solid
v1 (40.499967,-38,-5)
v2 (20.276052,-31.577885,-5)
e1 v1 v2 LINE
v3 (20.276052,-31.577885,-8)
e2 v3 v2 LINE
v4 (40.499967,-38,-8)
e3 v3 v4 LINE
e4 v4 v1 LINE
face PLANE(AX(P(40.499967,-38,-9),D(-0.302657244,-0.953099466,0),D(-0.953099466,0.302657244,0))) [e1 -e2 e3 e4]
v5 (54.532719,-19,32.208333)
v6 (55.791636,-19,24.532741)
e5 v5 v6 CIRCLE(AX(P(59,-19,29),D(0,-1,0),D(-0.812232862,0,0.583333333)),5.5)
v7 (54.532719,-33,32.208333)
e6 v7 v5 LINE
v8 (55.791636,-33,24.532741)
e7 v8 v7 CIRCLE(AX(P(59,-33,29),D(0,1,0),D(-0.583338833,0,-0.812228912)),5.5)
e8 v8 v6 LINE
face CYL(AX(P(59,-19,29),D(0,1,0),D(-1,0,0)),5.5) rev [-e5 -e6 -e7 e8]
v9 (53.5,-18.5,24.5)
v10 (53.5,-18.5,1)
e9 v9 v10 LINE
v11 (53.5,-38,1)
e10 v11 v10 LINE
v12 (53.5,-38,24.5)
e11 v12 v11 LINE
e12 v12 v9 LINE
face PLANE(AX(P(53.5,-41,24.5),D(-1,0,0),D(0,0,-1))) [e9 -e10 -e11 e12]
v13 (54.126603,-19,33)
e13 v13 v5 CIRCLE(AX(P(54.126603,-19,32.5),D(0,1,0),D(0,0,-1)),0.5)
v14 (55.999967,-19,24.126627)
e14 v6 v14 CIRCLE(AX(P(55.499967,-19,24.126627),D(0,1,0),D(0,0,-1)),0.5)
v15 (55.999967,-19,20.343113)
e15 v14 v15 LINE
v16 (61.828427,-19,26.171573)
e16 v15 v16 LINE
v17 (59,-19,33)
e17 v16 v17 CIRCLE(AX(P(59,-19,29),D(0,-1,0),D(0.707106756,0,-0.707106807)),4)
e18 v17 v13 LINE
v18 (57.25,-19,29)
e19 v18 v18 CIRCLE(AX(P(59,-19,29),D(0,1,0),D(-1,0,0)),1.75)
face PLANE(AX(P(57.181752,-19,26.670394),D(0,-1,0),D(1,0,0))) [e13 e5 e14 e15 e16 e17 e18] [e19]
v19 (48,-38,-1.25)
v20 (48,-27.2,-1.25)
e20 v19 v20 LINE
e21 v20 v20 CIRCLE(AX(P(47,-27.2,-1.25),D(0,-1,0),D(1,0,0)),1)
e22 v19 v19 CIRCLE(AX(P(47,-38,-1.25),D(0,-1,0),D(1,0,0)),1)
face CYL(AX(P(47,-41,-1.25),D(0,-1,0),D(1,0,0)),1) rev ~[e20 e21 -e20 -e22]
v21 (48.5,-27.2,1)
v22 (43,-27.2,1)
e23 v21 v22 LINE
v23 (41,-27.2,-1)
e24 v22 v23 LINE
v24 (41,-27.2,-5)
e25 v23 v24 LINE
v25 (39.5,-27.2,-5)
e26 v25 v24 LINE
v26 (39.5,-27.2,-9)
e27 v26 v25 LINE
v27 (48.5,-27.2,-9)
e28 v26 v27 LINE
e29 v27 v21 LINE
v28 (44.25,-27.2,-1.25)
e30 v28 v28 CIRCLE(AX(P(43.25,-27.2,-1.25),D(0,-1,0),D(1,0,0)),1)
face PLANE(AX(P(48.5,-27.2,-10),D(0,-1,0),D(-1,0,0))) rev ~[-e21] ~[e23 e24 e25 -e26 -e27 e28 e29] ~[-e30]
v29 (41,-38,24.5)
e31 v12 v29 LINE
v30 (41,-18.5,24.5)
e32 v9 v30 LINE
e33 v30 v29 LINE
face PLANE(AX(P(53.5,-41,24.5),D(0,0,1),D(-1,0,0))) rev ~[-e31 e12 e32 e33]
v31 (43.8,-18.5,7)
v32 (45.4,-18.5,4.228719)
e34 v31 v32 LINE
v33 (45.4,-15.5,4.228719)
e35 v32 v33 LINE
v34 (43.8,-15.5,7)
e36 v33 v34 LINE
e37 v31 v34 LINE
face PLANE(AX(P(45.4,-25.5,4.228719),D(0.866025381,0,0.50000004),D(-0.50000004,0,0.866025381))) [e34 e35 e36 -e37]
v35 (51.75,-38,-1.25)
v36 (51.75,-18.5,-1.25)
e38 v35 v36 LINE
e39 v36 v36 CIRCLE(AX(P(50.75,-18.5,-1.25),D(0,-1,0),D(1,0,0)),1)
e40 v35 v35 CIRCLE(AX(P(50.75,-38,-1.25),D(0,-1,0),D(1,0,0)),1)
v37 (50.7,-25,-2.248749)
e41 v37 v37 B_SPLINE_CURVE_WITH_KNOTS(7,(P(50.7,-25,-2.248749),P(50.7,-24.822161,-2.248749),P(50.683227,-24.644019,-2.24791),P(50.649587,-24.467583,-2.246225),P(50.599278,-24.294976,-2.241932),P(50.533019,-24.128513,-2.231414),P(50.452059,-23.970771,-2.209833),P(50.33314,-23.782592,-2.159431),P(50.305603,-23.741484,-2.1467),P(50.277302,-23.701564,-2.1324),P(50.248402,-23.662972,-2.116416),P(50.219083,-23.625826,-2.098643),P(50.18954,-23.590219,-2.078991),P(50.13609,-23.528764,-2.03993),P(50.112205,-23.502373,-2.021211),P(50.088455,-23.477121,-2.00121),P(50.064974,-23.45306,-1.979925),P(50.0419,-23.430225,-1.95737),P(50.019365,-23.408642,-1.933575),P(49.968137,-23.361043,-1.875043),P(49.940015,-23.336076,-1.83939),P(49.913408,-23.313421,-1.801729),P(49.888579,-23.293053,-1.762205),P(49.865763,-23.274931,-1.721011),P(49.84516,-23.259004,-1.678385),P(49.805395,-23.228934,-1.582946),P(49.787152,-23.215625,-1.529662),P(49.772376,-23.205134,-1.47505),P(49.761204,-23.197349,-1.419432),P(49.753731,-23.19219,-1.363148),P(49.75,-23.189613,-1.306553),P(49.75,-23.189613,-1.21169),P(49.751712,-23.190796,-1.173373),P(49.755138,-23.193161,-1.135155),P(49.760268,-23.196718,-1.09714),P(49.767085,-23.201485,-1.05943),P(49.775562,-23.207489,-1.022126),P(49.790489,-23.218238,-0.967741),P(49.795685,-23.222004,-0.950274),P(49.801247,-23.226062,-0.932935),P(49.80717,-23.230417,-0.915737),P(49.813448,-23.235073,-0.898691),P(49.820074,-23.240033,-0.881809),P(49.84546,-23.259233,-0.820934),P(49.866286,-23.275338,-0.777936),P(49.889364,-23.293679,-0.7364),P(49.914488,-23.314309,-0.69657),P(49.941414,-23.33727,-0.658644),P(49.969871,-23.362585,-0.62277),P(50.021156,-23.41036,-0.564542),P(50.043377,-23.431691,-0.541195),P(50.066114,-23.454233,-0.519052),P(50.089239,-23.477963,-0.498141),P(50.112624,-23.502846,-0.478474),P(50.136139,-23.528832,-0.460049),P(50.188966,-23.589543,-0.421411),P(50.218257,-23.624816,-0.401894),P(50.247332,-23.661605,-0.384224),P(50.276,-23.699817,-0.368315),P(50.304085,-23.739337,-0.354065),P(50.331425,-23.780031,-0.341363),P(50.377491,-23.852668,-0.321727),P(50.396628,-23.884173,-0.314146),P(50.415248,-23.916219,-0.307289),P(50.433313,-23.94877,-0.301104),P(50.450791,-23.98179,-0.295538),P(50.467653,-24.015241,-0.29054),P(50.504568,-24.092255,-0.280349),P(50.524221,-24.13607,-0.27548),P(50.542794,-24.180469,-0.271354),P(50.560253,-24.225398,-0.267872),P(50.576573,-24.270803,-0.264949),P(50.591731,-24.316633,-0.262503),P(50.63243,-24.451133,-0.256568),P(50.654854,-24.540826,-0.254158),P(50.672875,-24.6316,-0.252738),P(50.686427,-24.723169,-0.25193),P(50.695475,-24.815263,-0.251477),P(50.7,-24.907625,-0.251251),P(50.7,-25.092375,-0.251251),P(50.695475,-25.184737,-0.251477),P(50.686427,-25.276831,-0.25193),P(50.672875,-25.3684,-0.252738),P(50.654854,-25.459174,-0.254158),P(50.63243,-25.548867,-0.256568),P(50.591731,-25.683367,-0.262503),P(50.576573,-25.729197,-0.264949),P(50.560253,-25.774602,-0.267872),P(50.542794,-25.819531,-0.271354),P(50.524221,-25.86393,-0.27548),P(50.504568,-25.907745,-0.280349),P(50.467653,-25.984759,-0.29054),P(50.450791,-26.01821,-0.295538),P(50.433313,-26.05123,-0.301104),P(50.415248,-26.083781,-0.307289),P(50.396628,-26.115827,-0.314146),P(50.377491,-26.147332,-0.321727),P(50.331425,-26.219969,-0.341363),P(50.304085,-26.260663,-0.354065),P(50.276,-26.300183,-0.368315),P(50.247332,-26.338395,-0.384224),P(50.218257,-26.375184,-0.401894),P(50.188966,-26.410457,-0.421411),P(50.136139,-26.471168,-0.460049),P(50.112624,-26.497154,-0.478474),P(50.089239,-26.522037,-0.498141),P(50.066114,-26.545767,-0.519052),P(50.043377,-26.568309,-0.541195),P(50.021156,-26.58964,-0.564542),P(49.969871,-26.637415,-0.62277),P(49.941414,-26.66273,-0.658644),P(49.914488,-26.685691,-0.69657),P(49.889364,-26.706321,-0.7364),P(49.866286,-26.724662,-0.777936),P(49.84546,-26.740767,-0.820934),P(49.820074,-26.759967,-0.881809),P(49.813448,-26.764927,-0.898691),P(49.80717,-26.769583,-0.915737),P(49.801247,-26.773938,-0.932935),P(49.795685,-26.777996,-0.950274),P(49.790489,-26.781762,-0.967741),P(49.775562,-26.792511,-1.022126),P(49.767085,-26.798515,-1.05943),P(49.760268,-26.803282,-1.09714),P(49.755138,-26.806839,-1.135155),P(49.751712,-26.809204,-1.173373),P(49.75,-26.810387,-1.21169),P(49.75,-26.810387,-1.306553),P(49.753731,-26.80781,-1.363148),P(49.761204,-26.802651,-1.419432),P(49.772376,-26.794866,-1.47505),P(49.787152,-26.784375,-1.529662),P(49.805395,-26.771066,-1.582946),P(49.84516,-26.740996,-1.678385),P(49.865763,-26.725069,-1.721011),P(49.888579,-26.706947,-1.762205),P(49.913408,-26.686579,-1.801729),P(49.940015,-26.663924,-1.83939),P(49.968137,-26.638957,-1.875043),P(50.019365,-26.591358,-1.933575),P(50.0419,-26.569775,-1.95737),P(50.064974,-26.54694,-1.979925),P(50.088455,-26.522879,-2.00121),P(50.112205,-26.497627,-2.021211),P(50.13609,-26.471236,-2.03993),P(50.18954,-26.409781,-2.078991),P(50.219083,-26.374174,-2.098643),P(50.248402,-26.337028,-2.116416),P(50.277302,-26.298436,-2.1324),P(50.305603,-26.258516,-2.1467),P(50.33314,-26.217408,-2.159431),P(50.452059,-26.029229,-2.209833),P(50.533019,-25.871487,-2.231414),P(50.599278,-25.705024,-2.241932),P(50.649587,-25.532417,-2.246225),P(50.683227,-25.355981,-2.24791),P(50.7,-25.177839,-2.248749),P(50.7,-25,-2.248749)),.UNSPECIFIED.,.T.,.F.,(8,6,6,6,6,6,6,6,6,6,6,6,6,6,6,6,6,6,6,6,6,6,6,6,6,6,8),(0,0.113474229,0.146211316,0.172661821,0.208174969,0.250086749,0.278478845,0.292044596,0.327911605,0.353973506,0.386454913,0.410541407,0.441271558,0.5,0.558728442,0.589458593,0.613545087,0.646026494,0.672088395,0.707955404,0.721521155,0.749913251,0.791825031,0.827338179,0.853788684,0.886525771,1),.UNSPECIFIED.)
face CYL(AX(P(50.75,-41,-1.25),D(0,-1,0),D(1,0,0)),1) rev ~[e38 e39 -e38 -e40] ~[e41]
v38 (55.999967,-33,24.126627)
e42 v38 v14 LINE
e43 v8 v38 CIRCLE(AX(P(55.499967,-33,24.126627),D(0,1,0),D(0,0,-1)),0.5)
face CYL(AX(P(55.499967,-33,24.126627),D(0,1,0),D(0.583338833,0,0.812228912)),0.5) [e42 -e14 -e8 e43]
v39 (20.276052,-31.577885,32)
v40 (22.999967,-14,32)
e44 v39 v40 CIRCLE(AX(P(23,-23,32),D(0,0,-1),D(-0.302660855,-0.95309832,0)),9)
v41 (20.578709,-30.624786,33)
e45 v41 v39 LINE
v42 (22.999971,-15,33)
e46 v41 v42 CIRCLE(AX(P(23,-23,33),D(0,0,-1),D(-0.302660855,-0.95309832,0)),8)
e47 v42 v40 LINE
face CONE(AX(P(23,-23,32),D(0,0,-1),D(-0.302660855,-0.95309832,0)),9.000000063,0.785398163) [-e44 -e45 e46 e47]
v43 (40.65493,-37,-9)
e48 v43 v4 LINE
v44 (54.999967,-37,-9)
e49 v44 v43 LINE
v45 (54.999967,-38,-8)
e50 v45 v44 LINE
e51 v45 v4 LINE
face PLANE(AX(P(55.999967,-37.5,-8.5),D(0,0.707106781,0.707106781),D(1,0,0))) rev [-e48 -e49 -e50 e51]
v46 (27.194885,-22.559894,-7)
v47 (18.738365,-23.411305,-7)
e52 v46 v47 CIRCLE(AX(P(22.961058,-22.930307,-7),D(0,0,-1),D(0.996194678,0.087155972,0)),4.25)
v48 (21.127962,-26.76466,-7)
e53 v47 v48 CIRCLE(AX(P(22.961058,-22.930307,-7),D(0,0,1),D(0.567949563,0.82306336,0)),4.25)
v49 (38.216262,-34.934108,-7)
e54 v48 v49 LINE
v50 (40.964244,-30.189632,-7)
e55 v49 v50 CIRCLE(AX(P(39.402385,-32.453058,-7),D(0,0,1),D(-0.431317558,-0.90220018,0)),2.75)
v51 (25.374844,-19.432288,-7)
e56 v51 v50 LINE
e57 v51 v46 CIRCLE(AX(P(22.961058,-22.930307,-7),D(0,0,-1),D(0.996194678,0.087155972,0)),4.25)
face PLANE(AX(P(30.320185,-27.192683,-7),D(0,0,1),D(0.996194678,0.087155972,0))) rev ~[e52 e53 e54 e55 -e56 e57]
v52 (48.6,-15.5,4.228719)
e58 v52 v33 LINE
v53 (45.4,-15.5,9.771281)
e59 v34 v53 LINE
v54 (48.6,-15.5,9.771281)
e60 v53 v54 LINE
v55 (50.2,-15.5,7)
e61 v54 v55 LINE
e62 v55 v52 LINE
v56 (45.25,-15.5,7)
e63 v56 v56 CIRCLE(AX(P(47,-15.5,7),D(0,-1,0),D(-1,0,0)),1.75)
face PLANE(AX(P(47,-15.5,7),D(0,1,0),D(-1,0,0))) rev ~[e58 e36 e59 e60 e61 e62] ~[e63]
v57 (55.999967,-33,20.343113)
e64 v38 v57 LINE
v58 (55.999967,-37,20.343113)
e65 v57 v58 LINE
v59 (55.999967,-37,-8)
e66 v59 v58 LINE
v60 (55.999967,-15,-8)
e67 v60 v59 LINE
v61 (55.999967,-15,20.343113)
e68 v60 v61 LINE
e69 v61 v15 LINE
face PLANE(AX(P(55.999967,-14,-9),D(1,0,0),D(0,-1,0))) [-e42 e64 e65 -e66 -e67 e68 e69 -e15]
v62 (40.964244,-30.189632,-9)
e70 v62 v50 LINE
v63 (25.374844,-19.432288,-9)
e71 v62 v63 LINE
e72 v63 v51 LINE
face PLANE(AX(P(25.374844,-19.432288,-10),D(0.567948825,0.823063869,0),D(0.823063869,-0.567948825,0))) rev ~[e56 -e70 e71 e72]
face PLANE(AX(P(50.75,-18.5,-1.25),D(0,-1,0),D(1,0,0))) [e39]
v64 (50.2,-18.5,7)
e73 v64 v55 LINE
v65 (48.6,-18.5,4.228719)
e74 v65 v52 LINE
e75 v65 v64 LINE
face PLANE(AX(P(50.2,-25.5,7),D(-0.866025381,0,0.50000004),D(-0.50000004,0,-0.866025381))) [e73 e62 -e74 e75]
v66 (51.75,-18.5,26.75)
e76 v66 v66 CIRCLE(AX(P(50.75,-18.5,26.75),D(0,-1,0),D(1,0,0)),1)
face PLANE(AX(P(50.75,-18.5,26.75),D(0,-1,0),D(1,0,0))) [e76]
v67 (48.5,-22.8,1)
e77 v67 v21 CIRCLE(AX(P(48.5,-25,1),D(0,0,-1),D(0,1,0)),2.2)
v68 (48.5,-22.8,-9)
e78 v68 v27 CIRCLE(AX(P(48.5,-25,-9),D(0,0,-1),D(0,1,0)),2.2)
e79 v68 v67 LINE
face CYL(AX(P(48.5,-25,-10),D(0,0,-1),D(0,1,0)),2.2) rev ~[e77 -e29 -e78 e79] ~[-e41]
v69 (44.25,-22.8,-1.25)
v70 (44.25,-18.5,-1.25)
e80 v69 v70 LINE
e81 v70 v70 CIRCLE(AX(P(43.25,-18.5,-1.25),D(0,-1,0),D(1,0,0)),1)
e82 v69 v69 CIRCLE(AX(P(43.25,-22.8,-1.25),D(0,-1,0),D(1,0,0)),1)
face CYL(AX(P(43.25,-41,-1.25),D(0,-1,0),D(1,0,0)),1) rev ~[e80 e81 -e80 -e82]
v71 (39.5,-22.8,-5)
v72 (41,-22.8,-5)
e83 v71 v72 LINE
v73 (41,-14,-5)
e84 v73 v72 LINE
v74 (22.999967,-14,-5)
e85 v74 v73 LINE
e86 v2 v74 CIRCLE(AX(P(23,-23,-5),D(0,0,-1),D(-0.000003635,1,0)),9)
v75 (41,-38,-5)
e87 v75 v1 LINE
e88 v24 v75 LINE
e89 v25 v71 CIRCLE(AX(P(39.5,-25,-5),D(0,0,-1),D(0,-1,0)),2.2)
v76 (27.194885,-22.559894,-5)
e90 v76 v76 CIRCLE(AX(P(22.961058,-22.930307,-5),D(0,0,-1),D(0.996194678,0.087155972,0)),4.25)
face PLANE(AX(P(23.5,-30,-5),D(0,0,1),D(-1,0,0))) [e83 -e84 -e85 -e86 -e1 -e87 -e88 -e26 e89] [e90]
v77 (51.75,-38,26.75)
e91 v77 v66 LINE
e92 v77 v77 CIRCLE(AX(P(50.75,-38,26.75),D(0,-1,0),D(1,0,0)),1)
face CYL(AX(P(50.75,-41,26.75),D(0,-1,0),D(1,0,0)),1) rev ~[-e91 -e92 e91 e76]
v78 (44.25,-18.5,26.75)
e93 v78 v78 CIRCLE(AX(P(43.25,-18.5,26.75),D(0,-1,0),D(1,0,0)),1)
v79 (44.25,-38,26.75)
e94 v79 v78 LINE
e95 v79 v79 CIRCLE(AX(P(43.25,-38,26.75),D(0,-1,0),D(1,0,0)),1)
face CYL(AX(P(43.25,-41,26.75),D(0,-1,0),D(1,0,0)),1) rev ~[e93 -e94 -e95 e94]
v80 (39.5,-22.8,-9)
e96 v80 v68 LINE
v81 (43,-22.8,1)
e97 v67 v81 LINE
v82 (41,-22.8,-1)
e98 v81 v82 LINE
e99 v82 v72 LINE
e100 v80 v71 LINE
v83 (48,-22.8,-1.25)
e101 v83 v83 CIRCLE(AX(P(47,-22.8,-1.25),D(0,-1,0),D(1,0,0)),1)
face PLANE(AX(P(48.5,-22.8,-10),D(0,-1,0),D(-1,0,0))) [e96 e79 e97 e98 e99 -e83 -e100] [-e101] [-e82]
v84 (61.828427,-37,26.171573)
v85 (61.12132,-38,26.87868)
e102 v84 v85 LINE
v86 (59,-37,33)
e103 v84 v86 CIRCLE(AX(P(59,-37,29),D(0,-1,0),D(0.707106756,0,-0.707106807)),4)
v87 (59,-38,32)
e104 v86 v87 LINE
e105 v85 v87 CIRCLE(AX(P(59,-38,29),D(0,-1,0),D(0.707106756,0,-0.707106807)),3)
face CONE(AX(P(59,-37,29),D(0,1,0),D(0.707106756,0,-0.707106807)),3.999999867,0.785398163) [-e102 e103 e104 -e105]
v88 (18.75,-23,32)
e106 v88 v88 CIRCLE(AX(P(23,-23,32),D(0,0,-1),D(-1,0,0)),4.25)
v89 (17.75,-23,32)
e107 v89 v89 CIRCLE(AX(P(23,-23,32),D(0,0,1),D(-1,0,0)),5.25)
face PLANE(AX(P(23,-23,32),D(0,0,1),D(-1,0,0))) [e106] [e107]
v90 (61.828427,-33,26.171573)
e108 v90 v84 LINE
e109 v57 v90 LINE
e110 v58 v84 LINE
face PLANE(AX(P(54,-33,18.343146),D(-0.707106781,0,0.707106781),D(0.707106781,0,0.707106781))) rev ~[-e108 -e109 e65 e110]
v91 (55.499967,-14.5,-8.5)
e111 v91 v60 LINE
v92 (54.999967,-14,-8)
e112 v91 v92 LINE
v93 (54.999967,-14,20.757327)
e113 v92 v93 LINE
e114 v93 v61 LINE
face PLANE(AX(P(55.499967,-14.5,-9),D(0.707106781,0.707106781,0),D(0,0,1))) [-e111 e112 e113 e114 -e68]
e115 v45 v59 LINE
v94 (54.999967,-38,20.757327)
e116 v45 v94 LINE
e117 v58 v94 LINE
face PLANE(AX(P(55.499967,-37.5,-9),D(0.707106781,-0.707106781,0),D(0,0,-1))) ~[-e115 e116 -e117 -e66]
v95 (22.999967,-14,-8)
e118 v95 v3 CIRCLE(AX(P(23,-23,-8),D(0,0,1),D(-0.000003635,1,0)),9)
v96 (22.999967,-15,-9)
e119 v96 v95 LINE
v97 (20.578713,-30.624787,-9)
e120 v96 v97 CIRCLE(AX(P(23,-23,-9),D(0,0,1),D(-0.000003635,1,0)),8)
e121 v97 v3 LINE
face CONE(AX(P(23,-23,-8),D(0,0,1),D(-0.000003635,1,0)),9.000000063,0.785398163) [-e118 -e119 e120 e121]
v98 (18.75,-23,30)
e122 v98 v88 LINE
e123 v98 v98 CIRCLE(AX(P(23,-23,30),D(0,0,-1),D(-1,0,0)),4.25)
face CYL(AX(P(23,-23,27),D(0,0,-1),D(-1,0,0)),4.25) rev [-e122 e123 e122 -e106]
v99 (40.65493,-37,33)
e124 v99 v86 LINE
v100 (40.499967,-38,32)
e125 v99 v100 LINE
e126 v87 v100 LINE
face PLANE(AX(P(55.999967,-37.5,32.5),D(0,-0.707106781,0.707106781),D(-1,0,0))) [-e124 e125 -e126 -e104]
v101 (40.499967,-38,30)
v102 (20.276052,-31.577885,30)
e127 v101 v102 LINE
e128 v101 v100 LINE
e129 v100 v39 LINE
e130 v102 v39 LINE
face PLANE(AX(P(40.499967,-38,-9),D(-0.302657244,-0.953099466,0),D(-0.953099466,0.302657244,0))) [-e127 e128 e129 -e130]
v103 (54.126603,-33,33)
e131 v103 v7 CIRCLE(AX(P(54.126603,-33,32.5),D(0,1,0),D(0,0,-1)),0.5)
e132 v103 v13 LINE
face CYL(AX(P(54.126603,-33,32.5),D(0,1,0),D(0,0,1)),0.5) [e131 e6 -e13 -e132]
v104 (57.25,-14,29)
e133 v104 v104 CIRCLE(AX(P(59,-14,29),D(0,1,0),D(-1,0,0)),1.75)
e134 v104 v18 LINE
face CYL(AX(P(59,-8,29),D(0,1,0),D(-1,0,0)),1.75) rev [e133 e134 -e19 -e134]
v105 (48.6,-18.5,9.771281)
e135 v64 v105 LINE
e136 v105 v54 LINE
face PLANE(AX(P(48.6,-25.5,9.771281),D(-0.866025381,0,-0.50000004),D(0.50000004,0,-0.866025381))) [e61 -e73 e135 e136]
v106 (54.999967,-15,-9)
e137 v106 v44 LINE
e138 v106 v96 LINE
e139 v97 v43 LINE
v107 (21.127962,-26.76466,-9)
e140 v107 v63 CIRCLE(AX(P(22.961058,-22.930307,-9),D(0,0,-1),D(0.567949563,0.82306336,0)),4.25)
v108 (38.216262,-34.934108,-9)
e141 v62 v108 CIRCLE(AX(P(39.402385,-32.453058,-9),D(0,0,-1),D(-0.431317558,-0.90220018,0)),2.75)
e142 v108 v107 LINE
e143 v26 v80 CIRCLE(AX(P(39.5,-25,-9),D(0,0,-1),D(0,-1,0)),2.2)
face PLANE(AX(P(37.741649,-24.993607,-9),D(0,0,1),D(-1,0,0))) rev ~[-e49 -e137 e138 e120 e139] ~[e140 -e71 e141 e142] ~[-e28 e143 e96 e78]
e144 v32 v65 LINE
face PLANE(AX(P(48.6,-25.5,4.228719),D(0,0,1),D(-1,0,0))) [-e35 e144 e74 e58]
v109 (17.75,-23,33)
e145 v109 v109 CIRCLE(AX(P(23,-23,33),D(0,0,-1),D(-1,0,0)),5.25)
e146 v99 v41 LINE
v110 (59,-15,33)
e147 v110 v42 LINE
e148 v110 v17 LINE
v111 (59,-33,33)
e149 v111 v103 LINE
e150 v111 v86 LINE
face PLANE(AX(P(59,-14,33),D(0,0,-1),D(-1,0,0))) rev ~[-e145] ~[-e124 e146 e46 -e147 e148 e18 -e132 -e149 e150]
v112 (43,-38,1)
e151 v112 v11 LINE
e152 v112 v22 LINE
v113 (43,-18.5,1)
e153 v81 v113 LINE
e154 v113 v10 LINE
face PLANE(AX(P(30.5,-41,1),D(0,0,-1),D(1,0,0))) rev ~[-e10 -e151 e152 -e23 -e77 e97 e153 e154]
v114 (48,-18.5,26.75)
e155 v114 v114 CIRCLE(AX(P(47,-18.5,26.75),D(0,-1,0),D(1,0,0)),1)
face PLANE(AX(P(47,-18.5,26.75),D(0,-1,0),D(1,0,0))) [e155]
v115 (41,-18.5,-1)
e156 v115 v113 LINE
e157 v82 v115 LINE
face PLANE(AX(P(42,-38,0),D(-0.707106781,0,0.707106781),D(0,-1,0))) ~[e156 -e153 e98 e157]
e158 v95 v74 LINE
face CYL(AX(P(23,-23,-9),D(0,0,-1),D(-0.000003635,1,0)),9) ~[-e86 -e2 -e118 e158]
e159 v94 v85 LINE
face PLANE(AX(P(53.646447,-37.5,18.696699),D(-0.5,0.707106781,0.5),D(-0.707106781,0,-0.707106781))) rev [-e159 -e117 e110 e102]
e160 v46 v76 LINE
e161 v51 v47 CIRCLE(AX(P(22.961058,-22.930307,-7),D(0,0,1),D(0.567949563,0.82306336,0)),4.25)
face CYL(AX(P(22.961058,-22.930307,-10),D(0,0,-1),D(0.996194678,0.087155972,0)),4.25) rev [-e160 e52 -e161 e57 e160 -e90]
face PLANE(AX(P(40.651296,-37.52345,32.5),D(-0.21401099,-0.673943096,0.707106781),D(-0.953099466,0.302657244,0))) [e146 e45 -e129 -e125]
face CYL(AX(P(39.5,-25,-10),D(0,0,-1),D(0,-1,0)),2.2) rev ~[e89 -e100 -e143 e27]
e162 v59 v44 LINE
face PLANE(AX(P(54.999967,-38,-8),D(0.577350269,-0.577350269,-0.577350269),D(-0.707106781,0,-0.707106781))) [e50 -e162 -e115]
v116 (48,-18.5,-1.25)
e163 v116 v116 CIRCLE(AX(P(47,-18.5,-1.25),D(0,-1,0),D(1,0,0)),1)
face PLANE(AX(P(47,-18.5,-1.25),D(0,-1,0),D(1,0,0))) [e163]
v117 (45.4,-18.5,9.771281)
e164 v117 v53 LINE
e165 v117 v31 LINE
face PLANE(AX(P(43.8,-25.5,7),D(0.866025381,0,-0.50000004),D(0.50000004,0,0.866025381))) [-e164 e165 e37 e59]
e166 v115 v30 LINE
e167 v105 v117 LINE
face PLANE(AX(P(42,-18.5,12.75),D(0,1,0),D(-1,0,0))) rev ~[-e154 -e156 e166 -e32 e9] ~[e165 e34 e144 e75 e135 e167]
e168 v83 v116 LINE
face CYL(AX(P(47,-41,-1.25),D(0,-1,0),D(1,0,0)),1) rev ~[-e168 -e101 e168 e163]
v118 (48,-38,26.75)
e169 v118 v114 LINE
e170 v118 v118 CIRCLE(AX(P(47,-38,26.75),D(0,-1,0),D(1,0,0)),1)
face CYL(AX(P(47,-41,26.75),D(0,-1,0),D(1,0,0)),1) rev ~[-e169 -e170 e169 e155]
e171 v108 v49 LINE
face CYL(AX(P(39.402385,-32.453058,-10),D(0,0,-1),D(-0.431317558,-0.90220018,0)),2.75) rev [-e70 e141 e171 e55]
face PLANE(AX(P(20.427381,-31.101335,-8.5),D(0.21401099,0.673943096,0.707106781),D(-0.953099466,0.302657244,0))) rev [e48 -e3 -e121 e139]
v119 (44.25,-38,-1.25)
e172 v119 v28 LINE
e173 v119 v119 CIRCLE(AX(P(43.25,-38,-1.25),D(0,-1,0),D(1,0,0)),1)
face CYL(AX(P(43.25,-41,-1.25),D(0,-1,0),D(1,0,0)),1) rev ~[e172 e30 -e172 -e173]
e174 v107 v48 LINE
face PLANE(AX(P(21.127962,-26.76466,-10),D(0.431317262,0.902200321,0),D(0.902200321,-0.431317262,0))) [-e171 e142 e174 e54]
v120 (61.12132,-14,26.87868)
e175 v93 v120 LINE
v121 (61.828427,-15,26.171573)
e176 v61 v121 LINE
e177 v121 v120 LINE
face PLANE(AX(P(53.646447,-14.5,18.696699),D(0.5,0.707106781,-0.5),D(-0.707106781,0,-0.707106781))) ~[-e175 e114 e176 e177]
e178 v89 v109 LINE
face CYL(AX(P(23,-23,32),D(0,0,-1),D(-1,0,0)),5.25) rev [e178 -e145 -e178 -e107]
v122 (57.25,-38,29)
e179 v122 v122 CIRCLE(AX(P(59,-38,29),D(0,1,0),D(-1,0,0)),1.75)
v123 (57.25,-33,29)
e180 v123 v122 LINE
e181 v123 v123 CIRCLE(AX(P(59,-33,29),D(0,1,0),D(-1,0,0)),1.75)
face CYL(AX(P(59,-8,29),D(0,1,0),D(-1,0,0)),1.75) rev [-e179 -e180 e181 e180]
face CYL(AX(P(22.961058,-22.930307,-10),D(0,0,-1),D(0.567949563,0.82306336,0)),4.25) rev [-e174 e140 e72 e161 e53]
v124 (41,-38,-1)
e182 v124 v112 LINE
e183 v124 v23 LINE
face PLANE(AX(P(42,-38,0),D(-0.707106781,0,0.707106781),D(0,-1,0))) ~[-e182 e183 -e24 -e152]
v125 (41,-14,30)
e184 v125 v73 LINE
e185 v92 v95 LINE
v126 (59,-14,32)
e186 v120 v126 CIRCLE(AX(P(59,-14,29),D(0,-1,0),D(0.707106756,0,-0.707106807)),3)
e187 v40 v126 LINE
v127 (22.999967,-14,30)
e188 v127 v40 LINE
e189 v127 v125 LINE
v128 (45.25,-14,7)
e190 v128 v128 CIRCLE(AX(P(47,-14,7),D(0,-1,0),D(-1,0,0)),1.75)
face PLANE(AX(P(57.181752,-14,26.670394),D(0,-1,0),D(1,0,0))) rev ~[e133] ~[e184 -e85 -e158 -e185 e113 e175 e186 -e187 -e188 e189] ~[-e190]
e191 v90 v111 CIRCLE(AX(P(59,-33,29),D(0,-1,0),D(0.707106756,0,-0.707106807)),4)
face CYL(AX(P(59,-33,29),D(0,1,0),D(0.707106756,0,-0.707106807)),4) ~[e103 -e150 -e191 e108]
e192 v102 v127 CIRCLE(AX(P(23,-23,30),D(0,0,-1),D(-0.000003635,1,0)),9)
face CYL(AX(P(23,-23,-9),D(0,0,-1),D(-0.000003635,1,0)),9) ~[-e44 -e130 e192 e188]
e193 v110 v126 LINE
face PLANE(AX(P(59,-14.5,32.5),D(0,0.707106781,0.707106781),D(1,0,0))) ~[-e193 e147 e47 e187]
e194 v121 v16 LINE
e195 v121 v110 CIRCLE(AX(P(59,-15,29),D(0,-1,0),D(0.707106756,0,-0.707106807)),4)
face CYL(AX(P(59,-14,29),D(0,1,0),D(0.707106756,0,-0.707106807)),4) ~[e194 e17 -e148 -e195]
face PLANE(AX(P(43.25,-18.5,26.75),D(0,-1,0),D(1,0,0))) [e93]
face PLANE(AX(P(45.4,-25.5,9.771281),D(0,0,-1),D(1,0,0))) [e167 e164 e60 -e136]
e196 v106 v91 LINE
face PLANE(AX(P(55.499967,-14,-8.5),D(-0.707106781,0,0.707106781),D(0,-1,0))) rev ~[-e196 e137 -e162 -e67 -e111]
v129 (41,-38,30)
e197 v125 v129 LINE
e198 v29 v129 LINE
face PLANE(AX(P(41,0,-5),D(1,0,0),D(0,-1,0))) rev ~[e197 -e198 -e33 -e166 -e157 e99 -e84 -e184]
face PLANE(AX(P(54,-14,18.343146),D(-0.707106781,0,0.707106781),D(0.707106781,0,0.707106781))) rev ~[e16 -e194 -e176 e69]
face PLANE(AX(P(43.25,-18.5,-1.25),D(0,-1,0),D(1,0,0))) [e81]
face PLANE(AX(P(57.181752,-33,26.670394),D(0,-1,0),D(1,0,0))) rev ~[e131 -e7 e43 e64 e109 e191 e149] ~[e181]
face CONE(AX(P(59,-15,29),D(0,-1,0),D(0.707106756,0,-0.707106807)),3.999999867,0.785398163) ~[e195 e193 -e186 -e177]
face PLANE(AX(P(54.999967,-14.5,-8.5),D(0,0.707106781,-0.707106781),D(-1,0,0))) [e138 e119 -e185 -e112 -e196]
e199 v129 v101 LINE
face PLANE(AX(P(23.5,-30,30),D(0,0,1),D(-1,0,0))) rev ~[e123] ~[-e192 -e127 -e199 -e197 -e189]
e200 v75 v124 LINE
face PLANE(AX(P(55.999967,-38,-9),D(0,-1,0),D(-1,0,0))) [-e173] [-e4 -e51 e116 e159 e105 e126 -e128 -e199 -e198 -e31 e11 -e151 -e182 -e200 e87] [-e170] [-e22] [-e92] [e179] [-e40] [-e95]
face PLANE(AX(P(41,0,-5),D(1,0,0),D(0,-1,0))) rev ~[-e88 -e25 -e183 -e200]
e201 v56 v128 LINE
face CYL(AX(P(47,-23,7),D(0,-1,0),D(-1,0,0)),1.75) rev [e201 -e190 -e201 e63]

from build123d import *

# Parameters (mm, degrees)
SKETCH016_R            = 4.25
PAD015_DEPTH           = 30
PAD014_DEPTH           = 3
PRISM008_DEPTH         = 10
PRISM008_ROLL_ANGLE    = 90
PAD011_DEPTH           = 15
SKETCH010_R            = 1
PAD010_DEPTH           = 22.5
CYLINDER017_R          = 4.25
CYLINDER017_DEPTH      = 10
CYLINDER016_R          = 5.25
CYLINDER016_DEPTH      = 10
CYLINDER014_R          = 1.75
CYLINDER014_DEPTH      = 36
CYLINDER014_ROLL_ANGLE = -90
PAD004_DEPTH           = 5
CHAMFER002_SIZE        = 1
CYLINDER012_R          = 1.75
CYLINDER012_DEPTH      = 11
CYLINDER012_ROLL_ANGLE = 90
CYLINDER013_R          = 5.5
CYLINDER013_DEPTH      = 14
CYLINDER013_ROLL_ANGLE = -90
BOX010_W               = 35
BOX010_H               = 60
BOX010_DEPTH           = 35
PAD003_DEPTH           = 42
FILLET002_R            = 0.5
CHAMFER003_SIZE        = 1
CHAMFER006_SIZE        = 2
CHAMFER007_SIZE        = 1


with BuildPart() as pad015:
    # Sketch016 → Pad015 (new body)
    with BuildSketch(Plane(origin=(23.25, 34, -10), x_dir=(-0.996195, -0.087156, 0), z_dir=(0, 0, 1))):
        with Locations((47, 7)):
            Circle(SKETCH016_R)
    extrude(amount=PAD015_DEPTH)


with BuildPart() as fusion011:
    # Sketch014 → Pad014 (new body)
    with BuildSketch(Plane(origin=(23.25, 34, -10), x_dir=(-0.996195, -0.087156, 0), z_dir=(0, 0, 1))):
        with BuildLine():
            ThreePointArc((49.709474, 10.274332), (43.52198, 9.442514), (44.839693, 3.340003))
            Line((44.839693, 3.340003), (61.15095, -6.287705))
            ThreePointArc((61.15095, -6.287705), (64.799282, -5.499923), (64.301984, -1.800786))
            Line((49.709474, 10.274332), (64.301984, -1.800786))
        make_face()
    extrude(amount=PAD014_DEPTH)

    # Fusion011: union Pad015
    add(pad015.part)


with BuildPart() as fake_axis_nut_room:
    # Prism008 → Prism008 (new body)
    with BuildSketch(Plane.XY):
        Polygon((3.2, 0), (1.6, 2.771281), (-1.6, 2.771281), (-3.2, 0), (-1.6, -2.771281), (1.6, -2.771281), align=None)
    extrude(amount=PRISM008_DEPTH)


with BuildPart() as fake_axis_nut_room_1:
    # Prism008 roll: moved
    add(fake_axis_nut_room.part.rotate(Axis((0, 0, 0), (1, 0, 0)), PRISM008_ROLL_ANGLE))


with BuildPart() as fake_axis_nut_room_2:
    # Prism008 placement: moved
    add(fake_axis_nut_room_1.part.moved(Location((-47, 25.5, 7))))


with BuildPart() as pad011:
    # Sketch011 → Pad011 (new body)
    with BuildSketch(Plane(origin=(0, 0, -10), x_dir=(1, 0, 0), z_dir=(0, 0, -1))):
        with BuildLine():
            ThreePointArc((-48.5, -22.8), (-50.7, -25), (-48.5, -27.2))
            Line((-48.5, -27.2), (-39.5, -27.2))
            ThreePointArc((-39.5, -27.2), (-37.3, -25), (-39.5, -22.8))
            Line((-48.5, -22.8), (-39.5, -22.8))
        make_face()
    extrude(amount=-PAD011_DEPTH)


with BuildPart() as pad010:
    # Sketch010 → Pad010 (new body)
    with BuildSketch(Plane(origin=(0, 41, 0), x_dir=(-1, 0, 0), z_dir=(0, 1, 0))):
        with Locations((43.25, 26.75)):
            Circle(SKETCH010_R)
        with Locations((50.75, 26.75)):
            Circle(SKETCH010_R)
        with Locations((43.25, -1.25)):
            Circle(SKETCH010_R)
        with Locations((50.75, -1.25)):
            Circle(SKETCH010_R)
        with Locations((47, -1.25)):
            Circle(SKETCH010_R)
        with Locations((47, 26.75)):
            Circle(SKETCH010_R)
        Polygon((40.5, 24.5), (53.5, 24.5), (53.5, 1), (40.5, 1), (30.5, 1), (30.5, 24.5), align=None)
    extrude(amount=-PAD010_DEPTH)


with BuildPart() as cylinder017:
    # Cylinder017 → Cylinder017 (new body)
    with BuildSketch(Plane.XY.offset(-5)):
        Circle(CYLINDER017_R)
    extrude(amount=CYLINDER017_DEPTH)


with BuildPart() as fusion008:
    # Cylinder016 → Cylinder016 (new body)
    with BuildSketch(Plane.XY):
        Circle(CYLINDER016_R)
    extrude(amount=CYLINDER016_DEPTH)

    # Fusion008: union Cylinder017
    add(cylinder017.part)


with BuildPart() as fusion008_1:
    # Fusion008 placement: moved
    add(fusion008.part.moved(Location((-23, 23, 32))))


with BuildPart() as cilindro014:
    # Cylinder014 → Cylinder014 (new body)
    with BuildSketch(Plane.XY):
        Circle(CYLINDER014_R)
    extrude(amount=CYLINDER014_DEPTH)


with BuildPart() as cilindro014_1:
    # Cylinder014 roll: moved
    add(cilindro014.part.rotate(Axis((0, 0, 0), (1, 0, 0)), CYLINDER014_ROLL_ANGLE))


with BuildPart() as cilindro014_2:
    # Cylinder014 placement: moved
    add(cilindro014_1.part.moved(Location((-59, 8, 29))))


with BuildPart() as pad004:
    # Sketch004 → Pad004 (new body)
    with BuildSketch(Plane(origin=(0, 14, 0), x_dir=(-1, 0, 0), z_dir=(0, 1, 0))):
        with BuildLine():
            ThreePointArc((61.828427, 26.171573), (62.695518, 30.530734), (59, 33))
            Line((59, 33), (54, 33))
            Line((54, 33), (54, 18.343146))
            Line((54, 18.343146), (61.828427, 26.171573))
        make_face()
    extrude(amount=PAD004_DEPTH)


with BuildPart() as chamfer002:
    # Clone006 base: copy of Pad004
    add(pad004.part)


with BuildPart() as chamfer002_1:
    # Clone006 placement: moved
    add(chamfer002.part.moved(Location((0, 19, 0))))

    # Fusion006: union Pad004
    add(pad004.part)

    # Chamfer002
    chamfer002_edges = [chamfer002_1.edges().sort_by_distance(p)[0] for p in [
        (-62.695518, 14, 30.530734),
        (-62.695518, 38, 30.530734),
    ]]
    chamfer(chamfer002_edges, length=CHAMFER002_SIZE)


with BuildPart() as cilindro012:
    # Cylinder012 → Cylinder012 (new body)
    with BuildSketch(Plane.XY):
        Circle(CYLINDER012_R)
    extrude(amount=CYLINDER012_DEPTH)


with BuildPart() as cilindro012_1:
    # Cylinder012 roll: moved
    add(cilindro012.part.rotate(Axis((0, 0, 0), (1, 0, 0)), CYLINDER012_ROLL_ANGLE))


with BuildPart() as cilindro012_2:
    # Cylinder012 placement: moved
    add(cilindro012_1.part.moved(Location((-47, 23, 7))))


with BuildPart() as cilindro013:
    # Cylinder013 → Cylinder013 (new body)
    with BuildSketch(Plane.XY):
        Circle(CYLINDER013_R)
    extrude(amount=CYLINDER013_DEPTH)


with BuildPart() as cilindro013_1:
    # Cylinder013 roll: moved
    add(cilindro013.part.rotate(Axis((0, 0, 0), (1, 0, 0)), CYLINDER013_ROLL_ANGLE))


with BuildPart() as cilindro013_2:
    # Cylinder013 placement: moved
    add(cilindro013_1.part.moved(Location((-59, 19, 29))))


with BuildPart() as cubo010:
    # Box010 → Box010 (new body)
    with BuildSketch(Plane(origin=(-41, 0, -5), x_dir=(1, 0, 0), z_dir=(0, 0, 1))):
        with Locations((17.5, 30)):
            Rectangle(BOX010_W, BOX010_H)
    extrude(amount=BOX010_DEPTH)


with BuildPart() as clone_of_bracket:
    # Sketch003 → Pad003 (new body)
    with BuildSketch(Plane.XY.offset(-9)):
        with BuildLine():
            ThreePointArc((-22.999967, 14), (-14.106152, 21.621786), (-20.276052, 31.577885))
            Line((-40.499967, 38), (-20.276052, 31.577885))
            Line((-55.999967, 38), (-40.499967, 38))
            Line((-55.999967, 14), (-55.999967, 38))
            Line((-22.999967, 14), (-55.999967, 14))
        make_face()
    extrude(amount=PAD003_DEPTH)

    # Cut007: cut Cubo010
    add(cubo010.part, mode=Mode.SUBTRACT)

    # Cut008: cut Cilindro013
    add(cilindro013_2.part, mode=Mode.SUBTRACT)

    # Fillet002
    fillet002_edges = [clone_of_bracket.edges().sort_by_distance(p)[0] for p in [
        (-55.999967, 26, 24.390249),
        (-55.225083, 26, 33),
    ]]
    fillet(fillet002_edges, radius=FILLET002_R)

    # Chamfer003
    chamfer003_edges = [clone_of_bracket.edges().sort_by_distance(p)[0] for p in [
        (-55.999967, 14, 12),
        (-55.999967, 26, -9),
        (-55.999967, 38, 12),
        (-39.499967, 14, 33),
        (-14.106152, 21.621786, 33),
        (-48.249967, 38, 33),
        (-48.249967, 38, -9),
    ]]
    chamfer(chamfer003_edges, length=CHAMFER003_SIZE)

    # Cut010: cut Cilindro012
    add(cilindro012_2.part, mode=Mode.SUBTRACT)

    # Fusion007: union Chamfer002
    add(chamfer002_1.part)

    # Cut011: cut Cilindro014
    add(cilindro014_2.part, mode=Mode.SUBTRACT)

    # Cut012: cut Fusion008
    add(fusion008_1.part, mode=Mode.SUBTRACT)

    # Cut015: cut Pad010
    add(pad010.part, mode=Mode.SUBTRACT)

    # Chamfer006
    chamfer006_edges = [clone_of_bracket.edges().sort_by_distance(p)[0] for p in [
        (-41, 28.25, 1),
    ]]
    chamfer(chamfer006_edges, length=CHAMFER006_SIZE)

    # Cut016: cut Pad011
    add(pad011.part, mode=Mode.SUBTRACT)

    # Chamfer007
    chamfer007_edges = [clone_of_bracket.edges().sort_by_distance(p)[0] for p in [
        (-14.106152, 21.621786, -9),
    ]]
    chamfer(chamfer007_edges, length=CHAMFER007_SIZE)

    # Cut017: cut fake_axis_nut_room
    add(fake_axis_nut_room_2.part, mode=Mode.SUBTRACT)

    # Cut020: cut Fusion011
    add(fusion011.part, mode=Mode.SUBTRACT)


with BuildPart() as part_mirroring017:
    # Part__Mirroring017: instance of Clone of bracket
    add(clone_of_bracket.part.mirror(Plane(origin=(0, 0, 0), x_dir=(0, -1, 0), z_dir=(1, 0, 0))))


with BuildPart() as part_mirroring025:
    # Part__Mirroring025: instance of Part__Mirroring017
    add(part_mirroring017.part.mirror(Plane(origin=(0, 0, 0), x_dir=(1, 0, 0), z_dir=(0, 1, 0))))


solid = part_mirroring025.part
